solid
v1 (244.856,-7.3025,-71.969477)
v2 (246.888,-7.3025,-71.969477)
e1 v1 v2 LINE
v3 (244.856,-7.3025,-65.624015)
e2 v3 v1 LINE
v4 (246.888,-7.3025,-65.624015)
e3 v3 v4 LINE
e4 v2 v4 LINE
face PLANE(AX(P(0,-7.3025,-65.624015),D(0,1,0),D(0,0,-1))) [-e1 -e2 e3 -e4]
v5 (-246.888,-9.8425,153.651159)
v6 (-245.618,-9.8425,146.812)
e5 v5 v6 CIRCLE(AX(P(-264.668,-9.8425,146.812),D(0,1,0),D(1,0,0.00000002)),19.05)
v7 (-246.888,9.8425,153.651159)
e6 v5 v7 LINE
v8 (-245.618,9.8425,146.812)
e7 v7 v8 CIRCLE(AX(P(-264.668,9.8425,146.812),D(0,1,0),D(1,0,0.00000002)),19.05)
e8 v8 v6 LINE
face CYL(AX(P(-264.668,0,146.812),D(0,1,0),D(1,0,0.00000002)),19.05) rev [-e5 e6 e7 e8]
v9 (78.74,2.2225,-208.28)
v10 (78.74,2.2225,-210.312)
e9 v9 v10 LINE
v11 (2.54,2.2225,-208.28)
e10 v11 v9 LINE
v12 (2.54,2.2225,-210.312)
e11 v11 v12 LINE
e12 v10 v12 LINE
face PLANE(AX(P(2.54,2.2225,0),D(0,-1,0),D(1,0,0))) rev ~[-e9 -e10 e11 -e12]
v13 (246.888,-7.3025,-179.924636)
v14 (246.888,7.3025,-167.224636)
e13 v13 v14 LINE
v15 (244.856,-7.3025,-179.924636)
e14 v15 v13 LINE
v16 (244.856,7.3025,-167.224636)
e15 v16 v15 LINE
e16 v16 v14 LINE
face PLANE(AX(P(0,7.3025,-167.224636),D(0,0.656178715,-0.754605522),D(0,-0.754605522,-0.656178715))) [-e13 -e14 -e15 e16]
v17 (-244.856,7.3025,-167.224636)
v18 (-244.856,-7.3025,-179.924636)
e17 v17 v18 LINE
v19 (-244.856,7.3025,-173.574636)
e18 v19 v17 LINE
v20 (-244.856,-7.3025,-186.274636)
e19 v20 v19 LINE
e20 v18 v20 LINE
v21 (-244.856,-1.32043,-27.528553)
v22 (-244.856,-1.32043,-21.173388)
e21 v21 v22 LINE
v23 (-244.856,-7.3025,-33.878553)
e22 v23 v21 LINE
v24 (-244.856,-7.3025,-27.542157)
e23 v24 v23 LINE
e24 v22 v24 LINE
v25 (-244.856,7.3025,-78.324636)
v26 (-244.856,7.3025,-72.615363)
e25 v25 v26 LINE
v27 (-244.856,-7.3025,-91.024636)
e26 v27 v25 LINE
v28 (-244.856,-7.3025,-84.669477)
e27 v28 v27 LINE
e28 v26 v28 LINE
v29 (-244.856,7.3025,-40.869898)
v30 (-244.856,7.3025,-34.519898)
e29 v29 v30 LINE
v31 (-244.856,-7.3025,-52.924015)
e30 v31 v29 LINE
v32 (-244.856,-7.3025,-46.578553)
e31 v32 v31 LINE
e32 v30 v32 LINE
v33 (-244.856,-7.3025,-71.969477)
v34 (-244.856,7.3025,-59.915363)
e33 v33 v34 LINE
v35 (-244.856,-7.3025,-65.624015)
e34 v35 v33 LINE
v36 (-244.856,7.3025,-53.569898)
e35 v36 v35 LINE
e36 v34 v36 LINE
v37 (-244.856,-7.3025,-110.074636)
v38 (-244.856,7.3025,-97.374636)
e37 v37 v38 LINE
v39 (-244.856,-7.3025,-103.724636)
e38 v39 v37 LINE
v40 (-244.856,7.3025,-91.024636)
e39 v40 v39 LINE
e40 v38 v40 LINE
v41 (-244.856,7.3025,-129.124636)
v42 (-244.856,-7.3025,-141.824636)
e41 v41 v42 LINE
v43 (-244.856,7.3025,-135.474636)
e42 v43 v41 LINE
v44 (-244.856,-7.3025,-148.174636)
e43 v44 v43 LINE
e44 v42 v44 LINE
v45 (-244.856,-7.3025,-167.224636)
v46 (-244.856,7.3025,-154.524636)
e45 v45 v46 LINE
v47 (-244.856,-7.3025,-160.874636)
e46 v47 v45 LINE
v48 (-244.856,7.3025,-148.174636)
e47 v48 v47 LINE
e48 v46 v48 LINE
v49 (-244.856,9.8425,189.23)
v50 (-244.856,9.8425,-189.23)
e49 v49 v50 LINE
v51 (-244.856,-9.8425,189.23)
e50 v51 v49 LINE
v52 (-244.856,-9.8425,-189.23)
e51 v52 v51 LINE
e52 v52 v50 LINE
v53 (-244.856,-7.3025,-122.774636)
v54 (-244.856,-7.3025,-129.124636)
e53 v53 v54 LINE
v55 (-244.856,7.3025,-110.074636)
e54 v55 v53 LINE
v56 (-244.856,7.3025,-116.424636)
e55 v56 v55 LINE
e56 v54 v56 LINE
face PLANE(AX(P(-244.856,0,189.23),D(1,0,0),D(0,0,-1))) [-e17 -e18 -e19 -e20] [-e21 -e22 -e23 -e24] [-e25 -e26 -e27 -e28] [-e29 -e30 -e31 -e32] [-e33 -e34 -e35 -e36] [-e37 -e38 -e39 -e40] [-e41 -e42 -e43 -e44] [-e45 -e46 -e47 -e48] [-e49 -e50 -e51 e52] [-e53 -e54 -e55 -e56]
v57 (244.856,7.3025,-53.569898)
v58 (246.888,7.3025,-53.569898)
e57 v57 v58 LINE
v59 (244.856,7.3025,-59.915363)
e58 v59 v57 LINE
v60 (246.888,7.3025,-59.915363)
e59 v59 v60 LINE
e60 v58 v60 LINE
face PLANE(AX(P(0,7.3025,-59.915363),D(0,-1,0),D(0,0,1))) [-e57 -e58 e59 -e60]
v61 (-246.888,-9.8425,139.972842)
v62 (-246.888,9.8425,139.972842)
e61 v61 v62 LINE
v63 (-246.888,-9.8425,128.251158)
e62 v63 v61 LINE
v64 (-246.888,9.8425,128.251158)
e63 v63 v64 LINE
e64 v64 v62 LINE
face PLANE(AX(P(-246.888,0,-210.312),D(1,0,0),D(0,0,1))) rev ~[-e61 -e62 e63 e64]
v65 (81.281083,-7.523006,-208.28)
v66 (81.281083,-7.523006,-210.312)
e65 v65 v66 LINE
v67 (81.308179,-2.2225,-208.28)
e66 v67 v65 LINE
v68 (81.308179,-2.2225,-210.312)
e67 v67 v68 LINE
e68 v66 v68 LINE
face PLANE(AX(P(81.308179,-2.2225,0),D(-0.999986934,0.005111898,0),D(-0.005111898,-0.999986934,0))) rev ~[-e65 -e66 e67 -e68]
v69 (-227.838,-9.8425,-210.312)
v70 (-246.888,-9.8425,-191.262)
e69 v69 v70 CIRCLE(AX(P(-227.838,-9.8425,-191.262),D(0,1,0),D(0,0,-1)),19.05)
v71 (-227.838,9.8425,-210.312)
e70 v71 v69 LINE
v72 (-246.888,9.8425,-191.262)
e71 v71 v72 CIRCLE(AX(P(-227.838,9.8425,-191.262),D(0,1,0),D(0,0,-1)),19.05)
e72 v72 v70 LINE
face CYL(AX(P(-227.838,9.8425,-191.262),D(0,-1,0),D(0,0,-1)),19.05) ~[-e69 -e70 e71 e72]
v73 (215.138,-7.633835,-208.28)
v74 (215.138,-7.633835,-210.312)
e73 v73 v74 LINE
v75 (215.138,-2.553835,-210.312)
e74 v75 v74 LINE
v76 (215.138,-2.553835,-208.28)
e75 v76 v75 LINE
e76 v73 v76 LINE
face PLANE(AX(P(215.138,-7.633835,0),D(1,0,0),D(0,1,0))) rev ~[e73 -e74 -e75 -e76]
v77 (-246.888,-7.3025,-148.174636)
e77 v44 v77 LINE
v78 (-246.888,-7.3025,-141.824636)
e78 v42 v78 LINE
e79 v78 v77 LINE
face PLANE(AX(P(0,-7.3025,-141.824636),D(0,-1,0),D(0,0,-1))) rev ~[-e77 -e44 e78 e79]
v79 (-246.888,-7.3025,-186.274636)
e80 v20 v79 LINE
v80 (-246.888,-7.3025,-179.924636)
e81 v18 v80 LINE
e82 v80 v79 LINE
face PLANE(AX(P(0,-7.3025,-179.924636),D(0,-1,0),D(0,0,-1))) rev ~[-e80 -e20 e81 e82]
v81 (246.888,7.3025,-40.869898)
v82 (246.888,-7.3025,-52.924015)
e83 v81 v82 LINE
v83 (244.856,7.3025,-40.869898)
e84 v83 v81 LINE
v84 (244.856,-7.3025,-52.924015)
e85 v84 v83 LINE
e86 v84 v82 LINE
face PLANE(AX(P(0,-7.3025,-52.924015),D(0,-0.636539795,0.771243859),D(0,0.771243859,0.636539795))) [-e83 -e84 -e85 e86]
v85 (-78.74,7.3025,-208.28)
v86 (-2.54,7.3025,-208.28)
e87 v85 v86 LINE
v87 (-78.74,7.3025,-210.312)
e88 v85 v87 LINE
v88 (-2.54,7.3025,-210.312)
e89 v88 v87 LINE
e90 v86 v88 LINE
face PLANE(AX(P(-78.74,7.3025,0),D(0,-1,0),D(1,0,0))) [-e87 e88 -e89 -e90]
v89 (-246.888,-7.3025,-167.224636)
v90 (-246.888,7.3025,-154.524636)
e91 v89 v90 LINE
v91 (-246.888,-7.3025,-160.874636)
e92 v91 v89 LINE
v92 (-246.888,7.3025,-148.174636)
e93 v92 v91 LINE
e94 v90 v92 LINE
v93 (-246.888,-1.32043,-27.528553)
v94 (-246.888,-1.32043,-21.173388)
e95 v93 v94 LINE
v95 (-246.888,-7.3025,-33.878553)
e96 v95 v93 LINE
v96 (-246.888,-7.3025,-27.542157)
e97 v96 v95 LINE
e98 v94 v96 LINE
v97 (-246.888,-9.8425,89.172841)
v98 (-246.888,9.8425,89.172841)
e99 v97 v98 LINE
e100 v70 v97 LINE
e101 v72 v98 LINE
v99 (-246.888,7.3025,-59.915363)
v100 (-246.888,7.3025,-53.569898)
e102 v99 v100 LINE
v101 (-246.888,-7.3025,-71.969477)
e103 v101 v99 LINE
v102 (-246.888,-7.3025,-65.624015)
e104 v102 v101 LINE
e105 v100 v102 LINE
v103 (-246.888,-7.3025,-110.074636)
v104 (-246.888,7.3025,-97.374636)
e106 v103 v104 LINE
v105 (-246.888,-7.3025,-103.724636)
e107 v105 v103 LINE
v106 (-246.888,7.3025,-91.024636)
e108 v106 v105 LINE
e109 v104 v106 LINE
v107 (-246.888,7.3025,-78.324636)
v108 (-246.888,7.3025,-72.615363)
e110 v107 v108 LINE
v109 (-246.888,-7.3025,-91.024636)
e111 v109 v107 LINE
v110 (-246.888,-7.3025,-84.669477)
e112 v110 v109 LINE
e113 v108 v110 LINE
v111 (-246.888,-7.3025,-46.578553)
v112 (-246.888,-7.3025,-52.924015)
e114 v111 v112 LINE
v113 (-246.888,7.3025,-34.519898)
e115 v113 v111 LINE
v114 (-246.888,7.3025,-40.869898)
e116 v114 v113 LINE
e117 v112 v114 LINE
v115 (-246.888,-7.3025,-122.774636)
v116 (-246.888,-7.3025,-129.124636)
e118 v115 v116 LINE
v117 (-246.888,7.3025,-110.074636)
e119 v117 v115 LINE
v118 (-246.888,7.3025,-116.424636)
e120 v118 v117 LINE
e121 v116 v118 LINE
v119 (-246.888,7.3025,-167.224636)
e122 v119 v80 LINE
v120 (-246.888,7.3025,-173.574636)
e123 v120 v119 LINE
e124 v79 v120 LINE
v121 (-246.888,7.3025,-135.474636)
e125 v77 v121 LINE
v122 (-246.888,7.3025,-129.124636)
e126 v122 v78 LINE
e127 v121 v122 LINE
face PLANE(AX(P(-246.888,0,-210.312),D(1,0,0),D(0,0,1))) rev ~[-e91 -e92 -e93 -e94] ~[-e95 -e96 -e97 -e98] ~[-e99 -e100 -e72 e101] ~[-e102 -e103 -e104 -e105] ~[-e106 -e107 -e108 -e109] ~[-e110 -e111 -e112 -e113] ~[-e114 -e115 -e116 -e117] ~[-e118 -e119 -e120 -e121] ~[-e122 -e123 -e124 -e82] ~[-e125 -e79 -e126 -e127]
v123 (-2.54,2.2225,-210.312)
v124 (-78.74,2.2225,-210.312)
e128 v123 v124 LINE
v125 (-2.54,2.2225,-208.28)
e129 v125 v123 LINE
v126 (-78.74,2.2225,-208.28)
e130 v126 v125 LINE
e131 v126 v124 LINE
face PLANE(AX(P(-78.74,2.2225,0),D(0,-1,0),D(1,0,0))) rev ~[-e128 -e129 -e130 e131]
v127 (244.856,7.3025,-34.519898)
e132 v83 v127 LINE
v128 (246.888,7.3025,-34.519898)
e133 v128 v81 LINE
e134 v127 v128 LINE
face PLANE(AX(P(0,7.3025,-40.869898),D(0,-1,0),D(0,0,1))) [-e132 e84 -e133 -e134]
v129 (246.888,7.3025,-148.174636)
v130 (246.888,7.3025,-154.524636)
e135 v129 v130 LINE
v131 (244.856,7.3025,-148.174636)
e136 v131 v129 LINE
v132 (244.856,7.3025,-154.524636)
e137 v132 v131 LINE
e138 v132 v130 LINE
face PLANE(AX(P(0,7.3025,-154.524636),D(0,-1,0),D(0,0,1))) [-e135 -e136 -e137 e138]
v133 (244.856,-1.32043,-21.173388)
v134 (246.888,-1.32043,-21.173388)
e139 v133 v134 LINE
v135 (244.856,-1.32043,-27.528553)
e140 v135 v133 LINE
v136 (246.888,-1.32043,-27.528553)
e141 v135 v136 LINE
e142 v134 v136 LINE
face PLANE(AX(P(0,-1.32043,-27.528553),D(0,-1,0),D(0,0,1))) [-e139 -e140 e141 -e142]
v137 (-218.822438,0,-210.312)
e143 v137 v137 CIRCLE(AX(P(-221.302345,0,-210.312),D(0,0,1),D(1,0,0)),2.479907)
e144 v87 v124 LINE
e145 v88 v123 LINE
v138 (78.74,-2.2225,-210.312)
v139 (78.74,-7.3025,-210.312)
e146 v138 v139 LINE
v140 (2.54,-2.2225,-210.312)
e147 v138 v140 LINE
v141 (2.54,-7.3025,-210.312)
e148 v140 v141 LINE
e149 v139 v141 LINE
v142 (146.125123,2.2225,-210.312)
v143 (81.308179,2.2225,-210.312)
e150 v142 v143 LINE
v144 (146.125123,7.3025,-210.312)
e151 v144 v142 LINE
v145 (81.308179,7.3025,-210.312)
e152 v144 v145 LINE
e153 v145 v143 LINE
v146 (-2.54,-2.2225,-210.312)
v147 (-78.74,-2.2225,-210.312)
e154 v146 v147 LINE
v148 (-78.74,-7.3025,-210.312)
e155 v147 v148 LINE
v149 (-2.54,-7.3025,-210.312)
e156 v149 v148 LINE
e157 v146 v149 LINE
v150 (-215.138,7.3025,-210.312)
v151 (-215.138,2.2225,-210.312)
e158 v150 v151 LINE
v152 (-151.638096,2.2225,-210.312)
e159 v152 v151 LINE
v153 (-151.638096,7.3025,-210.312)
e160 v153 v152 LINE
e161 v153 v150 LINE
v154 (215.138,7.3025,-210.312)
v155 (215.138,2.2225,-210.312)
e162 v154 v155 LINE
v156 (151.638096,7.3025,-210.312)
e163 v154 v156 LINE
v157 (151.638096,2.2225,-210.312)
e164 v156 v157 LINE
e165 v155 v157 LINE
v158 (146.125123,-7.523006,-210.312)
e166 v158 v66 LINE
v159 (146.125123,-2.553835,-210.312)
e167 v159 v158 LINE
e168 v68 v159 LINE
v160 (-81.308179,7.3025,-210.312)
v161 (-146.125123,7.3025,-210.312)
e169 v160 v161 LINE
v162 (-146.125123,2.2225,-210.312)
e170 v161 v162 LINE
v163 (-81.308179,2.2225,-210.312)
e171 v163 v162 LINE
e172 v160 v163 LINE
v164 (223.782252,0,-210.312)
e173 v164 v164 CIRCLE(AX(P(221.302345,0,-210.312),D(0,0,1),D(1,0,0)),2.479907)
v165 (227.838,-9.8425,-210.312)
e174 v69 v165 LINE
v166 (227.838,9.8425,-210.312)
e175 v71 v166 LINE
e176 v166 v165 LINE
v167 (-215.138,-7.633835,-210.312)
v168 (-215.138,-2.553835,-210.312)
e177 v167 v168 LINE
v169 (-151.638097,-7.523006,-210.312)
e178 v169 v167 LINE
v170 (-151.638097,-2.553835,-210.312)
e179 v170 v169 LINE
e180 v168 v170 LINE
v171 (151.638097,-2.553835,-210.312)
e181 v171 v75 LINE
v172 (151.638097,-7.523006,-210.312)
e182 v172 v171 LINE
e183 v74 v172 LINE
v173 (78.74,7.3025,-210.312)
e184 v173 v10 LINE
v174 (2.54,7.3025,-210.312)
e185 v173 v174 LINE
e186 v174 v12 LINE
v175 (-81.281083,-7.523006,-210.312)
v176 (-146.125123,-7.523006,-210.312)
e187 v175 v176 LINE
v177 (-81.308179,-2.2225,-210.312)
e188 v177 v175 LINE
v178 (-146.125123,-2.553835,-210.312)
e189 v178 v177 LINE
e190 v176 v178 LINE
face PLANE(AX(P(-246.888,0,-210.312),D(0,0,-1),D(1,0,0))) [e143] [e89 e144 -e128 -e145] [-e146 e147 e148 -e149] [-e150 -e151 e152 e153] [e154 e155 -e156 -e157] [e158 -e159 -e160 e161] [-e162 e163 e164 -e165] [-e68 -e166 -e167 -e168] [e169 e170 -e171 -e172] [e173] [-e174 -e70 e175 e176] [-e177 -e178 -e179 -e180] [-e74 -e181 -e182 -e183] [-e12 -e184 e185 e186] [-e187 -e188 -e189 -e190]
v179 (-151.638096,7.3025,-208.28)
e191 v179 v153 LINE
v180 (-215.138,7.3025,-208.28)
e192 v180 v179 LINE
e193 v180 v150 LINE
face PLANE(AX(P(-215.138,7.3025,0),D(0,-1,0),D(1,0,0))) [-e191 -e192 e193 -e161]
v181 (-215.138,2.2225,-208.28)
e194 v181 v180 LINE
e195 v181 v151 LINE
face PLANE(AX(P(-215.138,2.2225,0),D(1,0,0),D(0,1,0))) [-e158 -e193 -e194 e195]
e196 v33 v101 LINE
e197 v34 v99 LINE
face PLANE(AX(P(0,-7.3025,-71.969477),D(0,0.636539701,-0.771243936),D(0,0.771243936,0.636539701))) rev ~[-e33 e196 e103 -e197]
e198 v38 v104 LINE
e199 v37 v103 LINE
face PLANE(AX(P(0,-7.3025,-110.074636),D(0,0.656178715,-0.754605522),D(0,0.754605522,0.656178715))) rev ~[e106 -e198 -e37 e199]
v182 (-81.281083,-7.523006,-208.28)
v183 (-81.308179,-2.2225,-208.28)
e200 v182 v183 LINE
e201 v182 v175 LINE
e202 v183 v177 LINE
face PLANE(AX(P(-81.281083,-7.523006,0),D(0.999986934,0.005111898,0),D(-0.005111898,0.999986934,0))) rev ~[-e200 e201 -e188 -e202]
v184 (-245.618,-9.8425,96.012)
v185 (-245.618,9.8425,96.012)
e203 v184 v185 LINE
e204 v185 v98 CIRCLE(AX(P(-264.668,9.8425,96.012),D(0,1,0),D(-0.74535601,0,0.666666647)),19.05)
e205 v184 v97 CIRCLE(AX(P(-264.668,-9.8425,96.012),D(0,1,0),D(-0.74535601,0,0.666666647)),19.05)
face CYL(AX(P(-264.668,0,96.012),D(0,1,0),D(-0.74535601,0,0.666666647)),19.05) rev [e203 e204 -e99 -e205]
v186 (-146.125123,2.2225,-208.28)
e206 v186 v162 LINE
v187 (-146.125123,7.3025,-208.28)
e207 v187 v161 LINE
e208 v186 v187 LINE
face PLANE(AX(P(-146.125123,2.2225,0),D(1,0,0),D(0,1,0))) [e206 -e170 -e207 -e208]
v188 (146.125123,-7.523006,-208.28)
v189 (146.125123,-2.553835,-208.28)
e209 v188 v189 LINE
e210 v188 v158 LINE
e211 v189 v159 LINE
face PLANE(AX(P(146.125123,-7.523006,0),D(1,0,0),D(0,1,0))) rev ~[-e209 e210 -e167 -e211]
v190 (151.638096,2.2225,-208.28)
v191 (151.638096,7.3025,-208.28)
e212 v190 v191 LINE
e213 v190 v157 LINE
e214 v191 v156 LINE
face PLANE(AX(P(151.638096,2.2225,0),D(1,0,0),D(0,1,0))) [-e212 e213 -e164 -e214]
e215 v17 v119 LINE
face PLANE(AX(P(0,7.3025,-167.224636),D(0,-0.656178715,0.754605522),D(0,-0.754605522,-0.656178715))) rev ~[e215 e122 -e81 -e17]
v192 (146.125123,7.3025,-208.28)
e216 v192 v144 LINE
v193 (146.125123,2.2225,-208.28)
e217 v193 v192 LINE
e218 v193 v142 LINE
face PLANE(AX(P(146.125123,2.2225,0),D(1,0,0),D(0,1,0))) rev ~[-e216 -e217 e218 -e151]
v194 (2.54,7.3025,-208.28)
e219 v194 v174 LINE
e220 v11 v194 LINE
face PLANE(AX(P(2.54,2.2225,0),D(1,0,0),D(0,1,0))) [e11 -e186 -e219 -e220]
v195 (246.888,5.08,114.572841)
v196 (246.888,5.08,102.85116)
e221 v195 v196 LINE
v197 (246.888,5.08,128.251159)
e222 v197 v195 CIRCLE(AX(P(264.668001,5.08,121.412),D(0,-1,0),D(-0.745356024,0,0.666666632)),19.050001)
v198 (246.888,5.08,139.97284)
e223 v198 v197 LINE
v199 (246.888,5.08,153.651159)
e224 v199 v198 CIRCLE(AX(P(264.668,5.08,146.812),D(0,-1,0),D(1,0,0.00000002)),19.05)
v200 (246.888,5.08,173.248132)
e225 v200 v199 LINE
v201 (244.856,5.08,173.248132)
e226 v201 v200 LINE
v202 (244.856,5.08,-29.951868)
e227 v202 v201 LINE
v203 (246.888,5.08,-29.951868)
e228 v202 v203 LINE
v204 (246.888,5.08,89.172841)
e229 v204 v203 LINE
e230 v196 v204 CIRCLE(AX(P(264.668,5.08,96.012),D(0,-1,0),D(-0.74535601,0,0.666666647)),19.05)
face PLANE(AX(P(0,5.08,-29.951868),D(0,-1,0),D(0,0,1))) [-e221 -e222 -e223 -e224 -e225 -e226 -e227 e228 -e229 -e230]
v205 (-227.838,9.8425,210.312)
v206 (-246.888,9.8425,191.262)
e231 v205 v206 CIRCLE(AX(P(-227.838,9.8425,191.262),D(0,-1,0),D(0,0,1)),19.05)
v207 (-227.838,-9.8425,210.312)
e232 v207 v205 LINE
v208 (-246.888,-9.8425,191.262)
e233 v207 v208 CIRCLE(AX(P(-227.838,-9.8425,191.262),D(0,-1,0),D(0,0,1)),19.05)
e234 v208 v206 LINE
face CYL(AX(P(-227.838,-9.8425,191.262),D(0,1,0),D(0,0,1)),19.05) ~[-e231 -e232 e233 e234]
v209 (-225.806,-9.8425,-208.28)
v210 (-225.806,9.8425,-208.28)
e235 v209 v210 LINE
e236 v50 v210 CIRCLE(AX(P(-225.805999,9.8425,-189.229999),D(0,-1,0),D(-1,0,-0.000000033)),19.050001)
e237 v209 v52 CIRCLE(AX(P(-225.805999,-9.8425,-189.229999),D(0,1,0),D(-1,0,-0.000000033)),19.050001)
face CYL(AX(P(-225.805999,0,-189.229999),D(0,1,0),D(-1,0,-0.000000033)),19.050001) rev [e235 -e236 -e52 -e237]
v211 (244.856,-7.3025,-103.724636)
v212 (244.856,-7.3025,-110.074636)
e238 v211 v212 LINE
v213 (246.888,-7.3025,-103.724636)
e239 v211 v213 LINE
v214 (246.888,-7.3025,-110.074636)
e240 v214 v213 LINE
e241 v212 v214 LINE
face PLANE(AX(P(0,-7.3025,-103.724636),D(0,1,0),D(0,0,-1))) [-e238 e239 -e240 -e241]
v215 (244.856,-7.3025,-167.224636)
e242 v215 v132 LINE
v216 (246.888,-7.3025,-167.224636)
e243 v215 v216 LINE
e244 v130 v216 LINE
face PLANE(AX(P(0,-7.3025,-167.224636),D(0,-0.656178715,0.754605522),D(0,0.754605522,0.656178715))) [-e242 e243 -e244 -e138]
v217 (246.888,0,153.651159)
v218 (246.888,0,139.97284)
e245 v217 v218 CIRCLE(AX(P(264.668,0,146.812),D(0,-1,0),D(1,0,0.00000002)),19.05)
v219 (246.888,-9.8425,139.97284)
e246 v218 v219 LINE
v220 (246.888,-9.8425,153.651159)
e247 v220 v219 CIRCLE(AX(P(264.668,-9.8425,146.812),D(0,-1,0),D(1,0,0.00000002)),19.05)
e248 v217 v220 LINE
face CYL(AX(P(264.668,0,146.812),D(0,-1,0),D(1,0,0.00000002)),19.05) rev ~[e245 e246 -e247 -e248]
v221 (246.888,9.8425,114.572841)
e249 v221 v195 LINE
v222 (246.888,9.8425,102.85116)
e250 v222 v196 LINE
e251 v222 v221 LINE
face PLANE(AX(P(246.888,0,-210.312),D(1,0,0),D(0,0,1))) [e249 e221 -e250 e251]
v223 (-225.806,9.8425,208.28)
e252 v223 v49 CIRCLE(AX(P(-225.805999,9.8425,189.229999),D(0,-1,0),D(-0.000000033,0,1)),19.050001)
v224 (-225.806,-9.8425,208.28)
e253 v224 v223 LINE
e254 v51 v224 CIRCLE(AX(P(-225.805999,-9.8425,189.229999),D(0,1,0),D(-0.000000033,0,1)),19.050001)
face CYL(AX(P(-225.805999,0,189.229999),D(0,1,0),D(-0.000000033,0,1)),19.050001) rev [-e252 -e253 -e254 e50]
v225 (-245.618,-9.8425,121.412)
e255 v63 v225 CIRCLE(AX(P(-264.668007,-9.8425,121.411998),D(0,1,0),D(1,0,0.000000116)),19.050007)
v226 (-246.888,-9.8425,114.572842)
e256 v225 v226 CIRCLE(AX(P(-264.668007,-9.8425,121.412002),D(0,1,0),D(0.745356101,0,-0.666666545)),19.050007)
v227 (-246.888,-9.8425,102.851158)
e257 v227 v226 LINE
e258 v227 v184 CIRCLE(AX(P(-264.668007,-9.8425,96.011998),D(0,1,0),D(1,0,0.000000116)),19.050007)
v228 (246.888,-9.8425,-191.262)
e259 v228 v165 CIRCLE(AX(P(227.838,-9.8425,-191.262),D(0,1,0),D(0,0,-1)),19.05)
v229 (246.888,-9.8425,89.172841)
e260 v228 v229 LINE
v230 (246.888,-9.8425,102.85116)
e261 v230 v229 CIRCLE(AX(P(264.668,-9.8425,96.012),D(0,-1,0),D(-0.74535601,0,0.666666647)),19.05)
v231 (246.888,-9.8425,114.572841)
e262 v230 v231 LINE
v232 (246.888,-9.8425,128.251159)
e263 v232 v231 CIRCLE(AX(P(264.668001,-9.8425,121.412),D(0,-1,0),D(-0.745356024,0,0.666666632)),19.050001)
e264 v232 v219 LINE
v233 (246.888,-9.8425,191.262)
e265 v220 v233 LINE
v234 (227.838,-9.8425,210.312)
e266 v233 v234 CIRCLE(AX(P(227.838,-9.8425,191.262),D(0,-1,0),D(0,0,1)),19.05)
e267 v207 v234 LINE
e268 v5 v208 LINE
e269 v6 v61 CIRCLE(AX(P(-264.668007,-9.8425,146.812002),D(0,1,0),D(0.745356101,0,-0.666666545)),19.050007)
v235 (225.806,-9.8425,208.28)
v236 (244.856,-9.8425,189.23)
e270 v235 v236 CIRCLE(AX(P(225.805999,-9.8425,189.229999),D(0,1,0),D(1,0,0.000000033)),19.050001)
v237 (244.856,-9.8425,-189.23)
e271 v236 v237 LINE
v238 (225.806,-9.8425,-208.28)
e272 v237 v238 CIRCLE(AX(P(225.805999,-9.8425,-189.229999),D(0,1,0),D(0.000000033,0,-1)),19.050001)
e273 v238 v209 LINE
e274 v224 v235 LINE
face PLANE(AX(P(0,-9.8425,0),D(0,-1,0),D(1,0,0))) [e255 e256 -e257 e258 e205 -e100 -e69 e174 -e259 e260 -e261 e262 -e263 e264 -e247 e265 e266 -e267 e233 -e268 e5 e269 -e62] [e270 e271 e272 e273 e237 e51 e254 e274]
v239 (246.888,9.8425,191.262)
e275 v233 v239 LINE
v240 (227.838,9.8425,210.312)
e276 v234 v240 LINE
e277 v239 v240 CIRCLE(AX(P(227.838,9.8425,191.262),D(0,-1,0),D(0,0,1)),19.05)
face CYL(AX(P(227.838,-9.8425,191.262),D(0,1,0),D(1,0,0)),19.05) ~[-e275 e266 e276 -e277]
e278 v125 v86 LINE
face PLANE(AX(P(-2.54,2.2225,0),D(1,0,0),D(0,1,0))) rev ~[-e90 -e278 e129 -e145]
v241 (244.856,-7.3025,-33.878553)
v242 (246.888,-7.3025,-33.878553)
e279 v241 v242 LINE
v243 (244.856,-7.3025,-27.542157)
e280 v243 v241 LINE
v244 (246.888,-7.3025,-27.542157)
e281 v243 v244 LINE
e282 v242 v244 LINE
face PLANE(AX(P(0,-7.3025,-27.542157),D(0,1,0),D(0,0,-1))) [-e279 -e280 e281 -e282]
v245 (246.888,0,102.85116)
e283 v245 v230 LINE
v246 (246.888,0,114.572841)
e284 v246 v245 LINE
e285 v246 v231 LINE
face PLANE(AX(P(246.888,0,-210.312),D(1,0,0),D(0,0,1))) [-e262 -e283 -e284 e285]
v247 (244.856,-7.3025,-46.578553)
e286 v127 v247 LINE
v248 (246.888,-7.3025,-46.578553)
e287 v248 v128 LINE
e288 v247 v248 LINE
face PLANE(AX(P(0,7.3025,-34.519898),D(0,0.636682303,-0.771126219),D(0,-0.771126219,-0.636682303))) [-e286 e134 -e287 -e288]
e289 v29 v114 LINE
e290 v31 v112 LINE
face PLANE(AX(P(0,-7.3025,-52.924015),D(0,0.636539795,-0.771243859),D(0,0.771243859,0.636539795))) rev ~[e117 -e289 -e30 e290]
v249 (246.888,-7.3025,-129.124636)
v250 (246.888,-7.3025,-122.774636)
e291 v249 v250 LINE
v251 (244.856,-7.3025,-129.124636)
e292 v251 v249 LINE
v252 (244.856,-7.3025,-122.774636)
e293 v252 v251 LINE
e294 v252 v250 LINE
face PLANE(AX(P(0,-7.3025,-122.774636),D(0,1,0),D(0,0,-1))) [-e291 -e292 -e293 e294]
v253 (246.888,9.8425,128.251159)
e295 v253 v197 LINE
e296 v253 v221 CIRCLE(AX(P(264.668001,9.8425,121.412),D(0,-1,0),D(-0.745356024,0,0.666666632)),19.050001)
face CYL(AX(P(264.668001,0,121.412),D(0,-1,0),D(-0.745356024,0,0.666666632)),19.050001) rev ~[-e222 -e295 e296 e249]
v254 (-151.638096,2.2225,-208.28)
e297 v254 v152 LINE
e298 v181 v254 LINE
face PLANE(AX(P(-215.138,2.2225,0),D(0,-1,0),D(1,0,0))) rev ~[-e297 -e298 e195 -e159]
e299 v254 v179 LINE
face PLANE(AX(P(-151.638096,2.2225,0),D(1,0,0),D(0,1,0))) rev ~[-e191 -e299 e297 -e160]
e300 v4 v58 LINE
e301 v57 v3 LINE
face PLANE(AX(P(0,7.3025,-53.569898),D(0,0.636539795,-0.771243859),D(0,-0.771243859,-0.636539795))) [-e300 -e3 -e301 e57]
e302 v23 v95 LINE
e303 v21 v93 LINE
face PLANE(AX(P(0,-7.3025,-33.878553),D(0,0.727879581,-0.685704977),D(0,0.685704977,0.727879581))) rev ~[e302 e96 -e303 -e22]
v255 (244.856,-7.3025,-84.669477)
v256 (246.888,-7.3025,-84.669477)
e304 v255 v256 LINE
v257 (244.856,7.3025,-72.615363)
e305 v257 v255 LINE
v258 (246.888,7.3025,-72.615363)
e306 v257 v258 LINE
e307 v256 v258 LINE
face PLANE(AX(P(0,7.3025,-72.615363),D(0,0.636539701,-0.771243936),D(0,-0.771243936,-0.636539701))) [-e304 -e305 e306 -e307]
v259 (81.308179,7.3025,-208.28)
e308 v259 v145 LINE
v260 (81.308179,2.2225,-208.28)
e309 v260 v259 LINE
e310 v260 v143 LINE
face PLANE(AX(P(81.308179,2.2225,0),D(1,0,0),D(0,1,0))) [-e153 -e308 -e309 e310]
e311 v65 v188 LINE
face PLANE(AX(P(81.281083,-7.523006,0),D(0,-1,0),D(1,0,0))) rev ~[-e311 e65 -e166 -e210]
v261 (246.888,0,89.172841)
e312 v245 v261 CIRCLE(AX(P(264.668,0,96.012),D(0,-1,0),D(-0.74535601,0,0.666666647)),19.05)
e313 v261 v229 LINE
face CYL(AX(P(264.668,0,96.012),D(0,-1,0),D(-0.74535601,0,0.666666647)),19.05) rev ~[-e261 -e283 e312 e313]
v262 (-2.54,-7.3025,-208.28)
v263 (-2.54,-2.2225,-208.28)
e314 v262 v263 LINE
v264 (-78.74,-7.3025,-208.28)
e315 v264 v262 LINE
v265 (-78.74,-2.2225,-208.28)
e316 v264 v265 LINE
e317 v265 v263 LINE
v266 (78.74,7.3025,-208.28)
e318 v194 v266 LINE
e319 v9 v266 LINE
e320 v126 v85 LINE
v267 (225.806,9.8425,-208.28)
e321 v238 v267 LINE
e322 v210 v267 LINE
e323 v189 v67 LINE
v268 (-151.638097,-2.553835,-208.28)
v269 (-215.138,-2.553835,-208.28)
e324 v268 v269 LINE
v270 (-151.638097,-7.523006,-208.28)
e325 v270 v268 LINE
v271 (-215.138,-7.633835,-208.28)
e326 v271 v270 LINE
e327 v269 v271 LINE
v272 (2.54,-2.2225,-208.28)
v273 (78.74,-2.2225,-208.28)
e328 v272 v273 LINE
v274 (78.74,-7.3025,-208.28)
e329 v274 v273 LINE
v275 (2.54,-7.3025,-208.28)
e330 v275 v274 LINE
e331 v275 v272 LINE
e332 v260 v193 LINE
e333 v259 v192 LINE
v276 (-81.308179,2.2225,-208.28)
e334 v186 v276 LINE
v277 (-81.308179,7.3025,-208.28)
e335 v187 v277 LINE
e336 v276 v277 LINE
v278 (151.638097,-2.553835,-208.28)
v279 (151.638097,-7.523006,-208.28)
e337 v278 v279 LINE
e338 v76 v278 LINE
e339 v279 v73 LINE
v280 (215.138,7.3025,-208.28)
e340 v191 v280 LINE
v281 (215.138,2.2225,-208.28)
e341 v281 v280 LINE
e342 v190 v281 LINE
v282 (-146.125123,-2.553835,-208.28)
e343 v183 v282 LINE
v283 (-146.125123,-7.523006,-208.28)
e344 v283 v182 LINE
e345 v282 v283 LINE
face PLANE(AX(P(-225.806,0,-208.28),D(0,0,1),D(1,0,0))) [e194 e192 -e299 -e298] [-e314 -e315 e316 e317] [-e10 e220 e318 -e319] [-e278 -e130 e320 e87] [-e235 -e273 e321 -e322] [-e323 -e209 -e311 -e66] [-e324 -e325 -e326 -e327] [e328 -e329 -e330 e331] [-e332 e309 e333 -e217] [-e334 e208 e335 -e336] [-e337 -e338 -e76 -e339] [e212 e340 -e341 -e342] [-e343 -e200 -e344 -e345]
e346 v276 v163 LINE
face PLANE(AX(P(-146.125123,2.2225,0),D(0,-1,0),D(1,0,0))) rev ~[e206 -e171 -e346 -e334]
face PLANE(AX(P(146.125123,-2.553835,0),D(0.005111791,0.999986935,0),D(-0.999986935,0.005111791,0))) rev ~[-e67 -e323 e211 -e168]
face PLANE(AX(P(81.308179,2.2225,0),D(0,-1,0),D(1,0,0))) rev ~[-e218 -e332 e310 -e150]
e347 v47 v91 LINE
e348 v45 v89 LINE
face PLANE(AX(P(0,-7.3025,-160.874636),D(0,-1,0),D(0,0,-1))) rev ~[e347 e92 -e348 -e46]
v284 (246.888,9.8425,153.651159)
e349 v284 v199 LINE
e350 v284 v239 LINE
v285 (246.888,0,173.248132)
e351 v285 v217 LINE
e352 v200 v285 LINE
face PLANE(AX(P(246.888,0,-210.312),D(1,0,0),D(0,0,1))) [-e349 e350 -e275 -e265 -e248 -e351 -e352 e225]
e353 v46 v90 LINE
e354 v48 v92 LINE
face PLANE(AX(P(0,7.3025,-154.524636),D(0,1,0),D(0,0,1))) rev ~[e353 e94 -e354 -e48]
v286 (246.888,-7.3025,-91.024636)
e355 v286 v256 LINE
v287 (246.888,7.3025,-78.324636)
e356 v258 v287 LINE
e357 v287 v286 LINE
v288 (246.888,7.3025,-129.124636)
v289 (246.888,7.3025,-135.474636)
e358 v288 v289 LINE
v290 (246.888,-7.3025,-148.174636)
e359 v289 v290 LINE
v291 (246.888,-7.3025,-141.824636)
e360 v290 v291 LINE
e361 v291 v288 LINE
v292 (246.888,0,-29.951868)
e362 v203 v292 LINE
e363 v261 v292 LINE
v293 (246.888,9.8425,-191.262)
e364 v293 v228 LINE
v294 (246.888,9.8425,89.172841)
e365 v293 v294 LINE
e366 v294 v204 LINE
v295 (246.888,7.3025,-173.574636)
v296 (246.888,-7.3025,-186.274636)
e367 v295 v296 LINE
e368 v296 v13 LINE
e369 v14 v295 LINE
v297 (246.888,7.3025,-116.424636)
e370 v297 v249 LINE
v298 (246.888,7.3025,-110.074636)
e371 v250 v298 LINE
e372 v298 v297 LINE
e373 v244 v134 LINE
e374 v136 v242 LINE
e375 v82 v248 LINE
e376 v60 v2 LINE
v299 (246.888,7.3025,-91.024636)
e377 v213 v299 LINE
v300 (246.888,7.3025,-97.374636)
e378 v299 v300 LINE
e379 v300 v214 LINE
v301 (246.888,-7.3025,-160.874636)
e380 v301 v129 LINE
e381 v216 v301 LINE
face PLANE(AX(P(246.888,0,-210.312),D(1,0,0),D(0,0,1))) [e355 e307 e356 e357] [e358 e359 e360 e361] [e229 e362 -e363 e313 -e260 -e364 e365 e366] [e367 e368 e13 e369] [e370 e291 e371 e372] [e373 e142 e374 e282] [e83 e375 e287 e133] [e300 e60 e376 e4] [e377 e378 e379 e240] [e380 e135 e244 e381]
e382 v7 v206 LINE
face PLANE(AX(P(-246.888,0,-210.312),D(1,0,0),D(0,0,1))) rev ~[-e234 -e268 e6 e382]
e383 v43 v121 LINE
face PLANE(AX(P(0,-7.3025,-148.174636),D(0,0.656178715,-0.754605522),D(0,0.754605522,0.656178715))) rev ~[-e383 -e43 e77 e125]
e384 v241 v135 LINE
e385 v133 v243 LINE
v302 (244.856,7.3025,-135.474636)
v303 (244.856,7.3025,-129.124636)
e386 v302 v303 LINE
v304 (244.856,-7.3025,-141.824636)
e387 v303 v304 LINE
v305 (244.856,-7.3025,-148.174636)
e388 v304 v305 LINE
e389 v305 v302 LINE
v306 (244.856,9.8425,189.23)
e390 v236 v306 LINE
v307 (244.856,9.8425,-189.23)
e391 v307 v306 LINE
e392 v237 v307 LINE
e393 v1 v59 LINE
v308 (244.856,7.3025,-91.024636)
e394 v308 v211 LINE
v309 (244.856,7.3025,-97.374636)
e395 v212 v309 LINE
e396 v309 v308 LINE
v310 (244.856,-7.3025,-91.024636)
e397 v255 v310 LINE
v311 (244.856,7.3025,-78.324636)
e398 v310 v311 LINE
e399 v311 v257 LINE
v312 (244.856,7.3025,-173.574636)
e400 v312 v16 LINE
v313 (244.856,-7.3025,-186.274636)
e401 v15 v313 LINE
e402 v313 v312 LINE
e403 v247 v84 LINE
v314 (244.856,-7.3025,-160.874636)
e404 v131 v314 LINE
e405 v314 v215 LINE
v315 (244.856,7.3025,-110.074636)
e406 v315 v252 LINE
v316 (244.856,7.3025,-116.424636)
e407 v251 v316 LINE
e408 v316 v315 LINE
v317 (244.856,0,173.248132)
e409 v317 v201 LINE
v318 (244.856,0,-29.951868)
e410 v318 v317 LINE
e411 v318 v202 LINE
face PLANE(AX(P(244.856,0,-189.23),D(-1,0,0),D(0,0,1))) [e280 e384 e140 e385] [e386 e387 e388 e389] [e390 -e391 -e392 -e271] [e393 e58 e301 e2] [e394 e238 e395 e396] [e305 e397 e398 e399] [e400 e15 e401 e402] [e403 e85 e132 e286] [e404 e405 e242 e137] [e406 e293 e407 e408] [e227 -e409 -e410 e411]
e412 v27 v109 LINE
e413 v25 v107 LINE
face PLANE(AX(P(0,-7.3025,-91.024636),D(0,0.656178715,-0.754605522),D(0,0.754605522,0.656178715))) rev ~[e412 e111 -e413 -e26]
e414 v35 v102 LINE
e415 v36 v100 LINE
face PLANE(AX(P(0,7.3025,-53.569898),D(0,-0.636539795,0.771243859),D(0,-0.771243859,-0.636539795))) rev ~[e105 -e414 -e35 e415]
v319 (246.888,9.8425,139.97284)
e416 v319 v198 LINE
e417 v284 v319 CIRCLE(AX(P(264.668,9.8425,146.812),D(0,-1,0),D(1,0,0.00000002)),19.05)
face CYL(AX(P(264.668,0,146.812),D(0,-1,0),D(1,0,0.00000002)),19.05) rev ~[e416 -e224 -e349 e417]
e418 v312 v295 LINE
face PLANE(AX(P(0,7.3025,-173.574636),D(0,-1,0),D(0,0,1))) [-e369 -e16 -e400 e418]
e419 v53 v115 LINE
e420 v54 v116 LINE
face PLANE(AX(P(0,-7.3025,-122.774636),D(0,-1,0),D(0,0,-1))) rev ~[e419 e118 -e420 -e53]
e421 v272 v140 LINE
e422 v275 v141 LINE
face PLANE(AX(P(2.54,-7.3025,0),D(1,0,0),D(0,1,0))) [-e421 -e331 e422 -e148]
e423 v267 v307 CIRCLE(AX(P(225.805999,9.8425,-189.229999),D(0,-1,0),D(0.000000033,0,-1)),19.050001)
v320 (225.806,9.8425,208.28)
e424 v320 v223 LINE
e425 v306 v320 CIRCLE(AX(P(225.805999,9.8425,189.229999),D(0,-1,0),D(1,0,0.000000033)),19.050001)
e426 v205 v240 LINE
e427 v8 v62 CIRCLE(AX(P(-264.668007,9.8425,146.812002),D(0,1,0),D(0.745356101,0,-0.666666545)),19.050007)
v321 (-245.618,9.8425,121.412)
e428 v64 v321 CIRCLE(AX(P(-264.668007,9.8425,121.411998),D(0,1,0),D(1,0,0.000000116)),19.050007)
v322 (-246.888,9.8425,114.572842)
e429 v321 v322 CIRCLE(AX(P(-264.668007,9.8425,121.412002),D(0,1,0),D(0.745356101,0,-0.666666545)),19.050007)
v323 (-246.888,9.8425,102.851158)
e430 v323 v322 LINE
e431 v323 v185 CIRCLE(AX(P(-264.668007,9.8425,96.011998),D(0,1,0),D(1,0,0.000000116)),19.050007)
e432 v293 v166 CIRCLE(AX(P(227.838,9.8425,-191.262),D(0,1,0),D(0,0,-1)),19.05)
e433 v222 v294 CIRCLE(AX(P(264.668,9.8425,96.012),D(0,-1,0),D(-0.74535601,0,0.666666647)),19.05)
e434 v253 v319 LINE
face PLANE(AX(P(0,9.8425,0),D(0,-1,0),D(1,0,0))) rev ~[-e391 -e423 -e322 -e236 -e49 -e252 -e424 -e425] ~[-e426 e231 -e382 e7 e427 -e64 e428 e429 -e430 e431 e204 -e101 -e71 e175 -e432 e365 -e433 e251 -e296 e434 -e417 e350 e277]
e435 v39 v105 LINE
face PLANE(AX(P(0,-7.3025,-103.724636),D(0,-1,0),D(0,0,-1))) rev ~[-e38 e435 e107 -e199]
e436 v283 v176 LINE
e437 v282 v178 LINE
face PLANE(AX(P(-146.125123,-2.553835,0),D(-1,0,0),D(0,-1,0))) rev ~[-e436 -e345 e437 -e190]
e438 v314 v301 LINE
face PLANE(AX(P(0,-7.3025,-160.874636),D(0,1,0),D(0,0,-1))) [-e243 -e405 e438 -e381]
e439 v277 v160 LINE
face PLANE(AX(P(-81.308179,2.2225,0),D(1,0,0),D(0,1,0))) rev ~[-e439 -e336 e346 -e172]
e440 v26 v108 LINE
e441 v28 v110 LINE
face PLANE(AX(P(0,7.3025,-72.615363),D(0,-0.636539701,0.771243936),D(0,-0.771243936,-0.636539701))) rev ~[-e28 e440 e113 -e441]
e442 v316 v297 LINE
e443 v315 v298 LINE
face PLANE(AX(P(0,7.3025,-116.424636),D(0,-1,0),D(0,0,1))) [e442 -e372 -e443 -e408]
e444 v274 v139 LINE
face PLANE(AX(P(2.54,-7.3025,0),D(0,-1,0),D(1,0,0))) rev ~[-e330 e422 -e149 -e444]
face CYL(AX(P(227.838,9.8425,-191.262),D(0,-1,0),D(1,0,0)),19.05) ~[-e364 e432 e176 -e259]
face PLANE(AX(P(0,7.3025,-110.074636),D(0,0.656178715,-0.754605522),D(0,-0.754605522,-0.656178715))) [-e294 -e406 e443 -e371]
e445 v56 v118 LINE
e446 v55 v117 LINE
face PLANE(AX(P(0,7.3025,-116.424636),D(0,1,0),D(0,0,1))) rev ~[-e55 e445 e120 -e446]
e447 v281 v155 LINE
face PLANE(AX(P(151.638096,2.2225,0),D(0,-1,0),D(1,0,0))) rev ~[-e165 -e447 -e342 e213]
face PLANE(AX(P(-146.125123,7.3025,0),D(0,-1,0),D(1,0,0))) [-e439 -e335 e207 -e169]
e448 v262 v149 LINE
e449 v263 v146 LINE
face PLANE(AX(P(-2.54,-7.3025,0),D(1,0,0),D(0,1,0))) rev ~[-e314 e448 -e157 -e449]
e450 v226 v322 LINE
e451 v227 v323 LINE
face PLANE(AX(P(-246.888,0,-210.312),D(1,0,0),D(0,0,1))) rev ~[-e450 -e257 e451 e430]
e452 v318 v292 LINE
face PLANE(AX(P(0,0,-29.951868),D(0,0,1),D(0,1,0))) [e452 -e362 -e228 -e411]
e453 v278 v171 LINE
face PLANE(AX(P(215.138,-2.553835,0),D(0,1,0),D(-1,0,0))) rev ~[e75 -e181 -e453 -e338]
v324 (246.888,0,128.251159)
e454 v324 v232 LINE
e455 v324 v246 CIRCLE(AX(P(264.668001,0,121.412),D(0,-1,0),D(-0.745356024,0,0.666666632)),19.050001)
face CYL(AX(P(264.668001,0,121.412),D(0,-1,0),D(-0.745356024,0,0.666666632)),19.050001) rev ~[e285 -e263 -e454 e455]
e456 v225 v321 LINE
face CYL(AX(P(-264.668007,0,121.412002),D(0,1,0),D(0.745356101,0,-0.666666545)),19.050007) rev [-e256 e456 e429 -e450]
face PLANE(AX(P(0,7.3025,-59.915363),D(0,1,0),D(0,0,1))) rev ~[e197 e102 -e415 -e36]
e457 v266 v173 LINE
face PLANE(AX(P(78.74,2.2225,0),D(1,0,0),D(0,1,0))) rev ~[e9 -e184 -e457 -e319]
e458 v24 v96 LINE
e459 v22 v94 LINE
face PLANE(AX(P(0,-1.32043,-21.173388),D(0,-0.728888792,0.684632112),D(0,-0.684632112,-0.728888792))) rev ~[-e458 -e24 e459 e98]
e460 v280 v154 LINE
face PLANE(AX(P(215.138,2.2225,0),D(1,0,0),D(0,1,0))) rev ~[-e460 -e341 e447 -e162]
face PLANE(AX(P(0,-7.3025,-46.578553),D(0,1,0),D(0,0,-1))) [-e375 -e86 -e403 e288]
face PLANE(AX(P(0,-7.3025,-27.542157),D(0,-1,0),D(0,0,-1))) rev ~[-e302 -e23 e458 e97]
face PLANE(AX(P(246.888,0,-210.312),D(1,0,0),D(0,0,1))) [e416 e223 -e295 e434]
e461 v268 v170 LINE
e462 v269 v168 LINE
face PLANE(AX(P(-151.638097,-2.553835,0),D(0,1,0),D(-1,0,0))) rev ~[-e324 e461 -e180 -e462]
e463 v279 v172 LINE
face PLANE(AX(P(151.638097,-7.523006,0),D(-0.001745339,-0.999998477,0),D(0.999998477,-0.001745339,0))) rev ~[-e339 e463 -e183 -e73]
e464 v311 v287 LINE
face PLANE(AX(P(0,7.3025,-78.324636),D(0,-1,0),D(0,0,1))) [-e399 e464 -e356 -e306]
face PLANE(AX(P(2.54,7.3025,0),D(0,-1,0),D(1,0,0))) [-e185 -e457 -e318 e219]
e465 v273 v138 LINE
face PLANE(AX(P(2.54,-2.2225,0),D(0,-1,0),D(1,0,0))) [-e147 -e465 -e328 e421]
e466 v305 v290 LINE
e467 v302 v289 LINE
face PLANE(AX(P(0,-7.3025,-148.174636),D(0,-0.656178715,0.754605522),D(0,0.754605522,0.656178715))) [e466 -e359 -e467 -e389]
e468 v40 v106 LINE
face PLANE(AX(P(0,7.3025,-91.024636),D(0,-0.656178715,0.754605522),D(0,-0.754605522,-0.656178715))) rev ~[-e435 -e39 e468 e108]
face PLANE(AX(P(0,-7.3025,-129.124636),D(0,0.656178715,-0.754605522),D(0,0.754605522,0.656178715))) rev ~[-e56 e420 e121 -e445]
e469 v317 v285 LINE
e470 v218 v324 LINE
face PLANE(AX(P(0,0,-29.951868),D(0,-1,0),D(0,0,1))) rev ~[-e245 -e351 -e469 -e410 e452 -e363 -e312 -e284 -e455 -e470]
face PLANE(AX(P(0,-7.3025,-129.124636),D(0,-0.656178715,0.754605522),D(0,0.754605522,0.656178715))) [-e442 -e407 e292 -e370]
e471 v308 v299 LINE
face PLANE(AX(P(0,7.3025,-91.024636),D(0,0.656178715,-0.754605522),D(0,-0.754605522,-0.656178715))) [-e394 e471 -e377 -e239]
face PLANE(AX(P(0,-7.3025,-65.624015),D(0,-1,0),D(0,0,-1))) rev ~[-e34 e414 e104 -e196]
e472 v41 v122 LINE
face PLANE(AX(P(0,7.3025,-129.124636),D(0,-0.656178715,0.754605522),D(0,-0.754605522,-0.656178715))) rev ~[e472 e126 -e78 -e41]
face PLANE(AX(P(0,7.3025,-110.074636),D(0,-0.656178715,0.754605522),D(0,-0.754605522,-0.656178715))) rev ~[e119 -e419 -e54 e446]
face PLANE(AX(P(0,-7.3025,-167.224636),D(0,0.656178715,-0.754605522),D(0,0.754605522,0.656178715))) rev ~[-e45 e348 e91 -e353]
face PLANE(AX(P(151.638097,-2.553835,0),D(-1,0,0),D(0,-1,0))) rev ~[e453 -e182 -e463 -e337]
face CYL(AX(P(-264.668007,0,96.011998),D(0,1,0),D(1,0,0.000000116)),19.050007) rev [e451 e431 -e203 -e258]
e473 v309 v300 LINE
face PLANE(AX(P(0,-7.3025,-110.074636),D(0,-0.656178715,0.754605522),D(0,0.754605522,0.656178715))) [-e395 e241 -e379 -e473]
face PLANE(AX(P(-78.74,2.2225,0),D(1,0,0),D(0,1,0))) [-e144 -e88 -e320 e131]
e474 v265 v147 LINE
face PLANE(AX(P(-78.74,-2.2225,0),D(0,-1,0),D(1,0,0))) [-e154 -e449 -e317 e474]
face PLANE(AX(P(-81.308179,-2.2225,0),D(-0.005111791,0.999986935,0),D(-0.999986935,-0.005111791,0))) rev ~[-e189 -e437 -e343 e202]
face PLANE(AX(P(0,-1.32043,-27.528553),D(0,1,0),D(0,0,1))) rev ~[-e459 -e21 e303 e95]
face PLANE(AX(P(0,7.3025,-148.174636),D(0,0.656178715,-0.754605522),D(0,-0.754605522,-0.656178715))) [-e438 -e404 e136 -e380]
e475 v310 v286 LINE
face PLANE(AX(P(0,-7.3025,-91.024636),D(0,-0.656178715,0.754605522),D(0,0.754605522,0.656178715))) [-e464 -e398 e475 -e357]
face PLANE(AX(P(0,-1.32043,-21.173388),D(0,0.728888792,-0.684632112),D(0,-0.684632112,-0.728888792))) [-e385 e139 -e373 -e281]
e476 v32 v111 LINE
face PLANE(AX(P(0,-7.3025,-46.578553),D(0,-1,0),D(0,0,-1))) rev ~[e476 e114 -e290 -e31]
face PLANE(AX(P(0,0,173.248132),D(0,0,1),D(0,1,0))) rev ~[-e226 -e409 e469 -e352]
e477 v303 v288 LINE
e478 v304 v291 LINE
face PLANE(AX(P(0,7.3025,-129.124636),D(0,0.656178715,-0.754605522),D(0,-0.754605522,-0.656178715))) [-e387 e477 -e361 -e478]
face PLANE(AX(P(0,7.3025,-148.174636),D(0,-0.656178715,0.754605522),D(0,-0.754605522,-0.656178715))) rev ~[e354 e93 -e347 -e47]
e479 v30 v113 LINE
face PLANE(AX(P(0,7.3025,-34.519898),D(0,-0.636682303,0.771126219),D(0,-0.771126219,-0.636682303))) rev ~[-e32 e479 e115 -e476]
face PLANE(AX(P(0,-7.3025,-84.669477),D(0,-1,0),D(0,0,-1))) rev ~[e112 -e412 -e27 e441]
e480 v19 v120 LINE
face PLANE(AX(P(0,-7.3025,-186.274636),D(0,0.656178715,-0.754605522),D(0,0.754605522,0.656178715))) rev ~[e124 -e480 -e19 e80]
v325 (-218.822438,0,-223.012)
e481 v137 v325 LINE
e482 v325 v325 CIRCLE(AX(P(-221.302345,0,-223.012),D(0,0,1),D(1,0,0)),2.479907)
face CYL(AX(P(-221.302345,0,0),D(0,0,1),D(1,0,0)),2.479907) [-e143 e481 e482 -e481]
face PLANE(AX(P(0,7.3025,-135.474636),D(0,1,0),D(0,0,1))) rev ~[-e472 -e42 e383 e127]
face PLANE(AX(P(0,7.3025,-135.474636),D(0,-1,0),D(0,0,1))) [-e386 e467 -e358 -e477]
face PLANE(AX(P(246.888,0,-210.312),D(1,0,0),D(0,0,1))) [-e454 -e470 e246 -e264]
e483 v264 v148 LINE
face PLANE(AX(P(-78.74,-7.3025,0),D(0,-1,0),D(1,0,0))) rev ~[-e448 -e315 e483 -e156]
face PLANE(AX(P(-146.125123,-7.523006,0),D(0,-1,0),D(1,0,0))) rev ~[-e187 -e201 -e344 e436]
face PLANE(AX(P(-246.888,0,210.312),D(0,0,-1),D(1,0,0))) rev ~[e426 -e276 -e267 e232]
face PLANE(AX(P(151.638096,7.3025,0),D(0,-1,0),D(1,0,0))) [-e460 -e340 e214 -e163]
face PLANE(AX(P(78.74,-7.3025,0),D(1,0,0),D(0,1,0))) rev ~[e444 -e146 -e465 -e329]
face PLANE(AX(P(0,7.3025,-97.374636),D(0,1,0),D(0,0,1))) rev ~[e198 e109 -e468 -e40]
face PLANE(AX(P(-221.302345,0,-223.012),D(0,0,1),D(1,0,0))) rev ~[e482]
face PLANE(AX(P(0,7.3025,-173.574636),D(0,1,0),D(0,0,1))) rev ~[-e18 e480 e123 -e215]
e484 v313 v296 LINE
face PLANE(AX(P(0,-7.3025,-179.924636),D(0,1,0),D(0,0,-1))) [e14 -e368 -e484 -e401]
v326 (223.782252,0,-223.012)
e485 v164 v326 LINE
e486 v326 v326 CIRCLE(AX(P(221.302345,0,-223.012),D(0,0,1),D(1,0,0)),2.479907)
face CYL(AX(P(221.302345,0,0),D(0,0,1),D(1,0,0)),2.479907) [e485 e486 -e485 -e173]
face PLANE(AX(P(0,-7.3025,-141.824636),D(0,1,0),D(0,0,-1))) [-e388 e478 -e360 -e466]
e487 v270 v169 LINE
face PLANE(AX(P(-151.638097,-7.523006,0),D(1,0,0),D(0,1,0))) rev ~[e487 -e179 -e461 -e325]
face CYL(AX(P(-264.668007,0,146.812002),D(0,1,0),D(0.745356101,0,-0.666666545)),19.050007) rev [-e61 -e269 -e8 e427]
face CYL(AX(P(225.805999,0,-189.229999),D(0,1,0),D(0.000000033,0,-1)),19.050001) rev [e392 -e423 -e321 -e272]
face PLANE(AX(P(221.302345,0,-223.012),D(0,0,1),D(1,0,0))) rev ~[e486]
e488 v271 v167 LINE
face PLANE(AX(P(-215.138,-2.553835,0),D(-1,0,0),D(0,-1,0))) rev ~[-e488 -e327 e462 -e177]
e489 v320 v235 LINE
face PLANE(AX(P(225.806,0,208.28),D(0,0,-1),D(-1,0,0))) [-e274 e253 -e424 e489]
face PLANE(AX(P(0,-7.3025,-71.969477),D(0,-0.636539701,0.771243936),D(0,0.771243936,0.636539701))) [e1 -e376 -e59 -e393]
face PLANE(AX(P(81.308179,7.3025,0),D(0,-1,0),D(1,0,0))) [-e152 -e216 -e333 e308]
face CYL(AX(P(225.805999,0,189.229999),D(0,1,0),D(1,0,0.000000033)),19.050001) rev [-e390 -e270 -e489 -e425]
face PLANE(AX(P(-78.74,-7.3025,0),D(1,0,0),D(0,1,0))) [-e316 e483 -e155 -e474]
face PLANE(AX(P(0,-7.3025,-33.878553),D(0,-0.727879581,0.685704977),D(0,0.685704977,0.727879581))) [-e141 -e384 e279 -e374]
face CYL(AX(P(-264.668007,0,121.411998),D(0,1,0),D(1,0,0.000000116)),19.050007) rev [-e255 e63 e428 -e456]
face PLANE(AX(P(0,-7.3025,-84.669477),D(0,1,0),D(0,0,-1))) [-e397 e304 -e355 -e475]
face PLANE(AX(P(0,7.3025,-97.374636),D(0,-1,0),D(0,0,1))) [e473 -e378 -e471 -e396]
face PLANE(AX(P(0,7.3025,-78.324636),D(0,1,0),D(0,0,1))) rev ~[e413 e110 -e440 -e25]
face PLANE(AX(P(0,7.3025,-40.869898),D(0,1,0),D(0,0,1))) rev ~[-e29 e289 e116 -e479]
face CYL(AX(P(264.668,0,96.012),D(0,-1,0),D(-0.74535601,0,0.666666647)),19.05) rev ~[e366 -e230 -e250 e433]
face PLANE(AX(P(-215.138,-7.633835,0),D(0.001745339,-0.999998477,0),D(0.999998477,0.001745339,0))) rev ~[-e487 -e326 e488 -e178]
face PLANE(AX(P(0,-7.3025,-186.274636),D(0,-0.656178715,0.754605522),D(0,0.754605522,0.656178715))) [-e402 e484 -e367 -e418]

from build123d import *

# Parameters (mm, degrees)
F0_W      = 493.776
F0_H      = 420.624
F1_DEPTH  = 9.8425
F2_R      = 19.05
F3_R      = 19.05
F4_R      = 19.05
F5_R      = 19.05
F7_DEPTH  = 9.8435
F8_DEPTH  = 50.8
F9_DEPTH  = 9.8435
F11_DEPTH = 381
F12_DEPTH = 381
F13_W     = 76.2
F13_H     = 5.08
F13_W_2   = 63.499903
F13_W_3   = 64.816944
F14_DEPTH = 254
F16_DEPTH = 63.5
F17_R     = 2.479907
F18_DEPTH = 223.012
F19_DEPTH = 208.28
F20_W     = 5.08
F20_H     = 203.2
F21_DEPTH = 254


with BuildPart() as f1:
    # F0 (on Front) → F1 (new body, symmetric)
    with BuildSketch(Plane.XZ):
        Rectangle(F0_W, F0_H)
    extrude(amount=F1_DEPTH, both=True)

    # F2
    f2_edges = [f1.edges().sort_by_distance(p)[0] for p in [
        (246.888, 0, 210.312),
    ]]
    fillet(f2_edges, radius=F2_R)

    # F3
    f3_edges = [f1.edges().sort_by_distance(p)[0] for p in [
        (-246.888, 0, 210.312),
    ]]
    fillet(f3_edges, radius=F3_R)

    # F4
    f4_edges = [f1.edges().sort_by_distance(p)[0] for p in [
        (246.888, 0, -210.312),
    ]]
    fillet(f4_edges, radius=F4_R)

    # F5
    f5_edges = [f1.edges().sort_by_distance(p)[0] for p in [
        (-246.888, 0, -210.312),
    ]]
    fillet(f5_edges, radius=F5_R)

    # F6 (on Front) → F7 (cut, through all)
    with BuildSketch(Plane.XZ):
        with BuildLine():
            ThreePointArc((244.856, 189.23), (239.276384, 202.700384), (225.806, 208.28))
            Line((225.806, 208.28), (-225.806, 208.28))
            ThreePointArc((-225.806, 208.28), (-239.276384, 202.700384), (-244.856, 189.23))
            Line((-244.856, 189.23), (-244.856, -189.23))
            ThreePointArc((-244.856, -189.23), (-239.276384, -202.700384), (-225.806, -208.28))
            Line((-225.806, -208.28), (225.806, -208.28))
            ThreePointArc((225.806, -208.28), (239.276384, -202.700384), (244.856, -189.23))
            Line((244.856, -189.23), (244.856, 189.23))
        make_face()
    extrude(amount=-F7_DEPTH, mode=Mode.SUBTRACT)

    # F6 (on Front) → F8 (cut)
    with BuildSketch(Plane.XZ):
        with BuildLine():
            ThreePointArc((244.856, 189.23), (239.276384, 202.700384), (225.806, 208.28))
            Line((225.806, 208.28), (-225.806, 208.28))
            ThreePointArc((-225.806, 208.28), (-239.276384, 202.700384), (-244.856, 189.23))
            Line((-244.856, 189.23), (-244.856, -189.23))
            ThreePointArc((-244.856, -189.23), (-239.276384, -202.700384), (-225.806, -208.28))
            Line((-225.806, -208.28), (225.806, -208.28))
            ThreePointArc((225.806, -208.28), (239.276384, -202.700384), (244.856, -189.23))
            Line((244.856, -189.23), (244.856, 189.23))
        make_face()
    extrude(amount=-F8_DEPTH, mode=Mode.SUBTRACT)

    # F6 (on Front) → F9 (cut, through all)
    with BuildSketch(Plane.XZ):
        with BuildLine():
            ThreePointArc((244.856, 189.23), (239.276384, 202.700384), (225.806, 208.28))
            Line((225.806, 208.28), (-225.806, 208.28))
            ThreePointArc((-225.806, 208.28), (-239.276384, 202.700384), (-244.856, 189.23))
            Line((-244.856, 189.23), (-244.856, -189.23))
            ThreePointArc((-244.856, -189.23), (-239.276384, -202.700384), (-225.806, -208.28))
            Line((-225.806, -208.28), (225.806, -208.28))
            ThreePointArc((225.806, -208.28), (239.276384, -202.700384), (244.856, -189.23))
            Line((244.856, -189.23), (244.856, 189.23))
        make_face()
    extrude(amount=F9_DEPTH, mode=Mode.SUBTRACT)

    # F10 (on Right) → F11 (cut)
    with BuildSketch(Plane.YZ):
        Polygon((7.3025, -40.869898), (7.3025, -34.519898), (-7.3025, -46.578553), (-7.3025, -52.924015), align=None)
        Polygon((7.3025, -59.915363), (7.3025, -53.569898), (-7.3025, -65.624015), (-7.3025, -71.969477), align=None)
        Polygon((-7.3025, -27.542157), (-7.3025, -33.878553), (-1.32043, -27.528553), (-1.32043, -21.173388), align=None)
        Polygon((7.3025, -72.615363), (-7.3025, -84.669477), (-7.3025, -91.024636), (7.3025, -78.324636), align=None)
        Polygon((7.3025, -91.024636), (-7.3025, -103.724636), (-7.3025, -110.074636), (7.3025, -97.374636), align=None)
        Polygon((7.3025, -110.074636), (-7.3025, -122.774636), (-7.3025, -129.124636), (7.3025, -116.424636), align=None)
        Polygon((7.3025, -129.124636), (-7.3025, -141.824636), (-7.3025, -148.174636), (7.3025, -135.474636), align=None)
        Polygon((7.3025, -148.174636), (-7.3025, -160.874636), (-7.3025, -167.224636), (7.3025, -154.524636), align=None)
        Polygon((7.3025, -167.224636), (-7.3025, -179.924636), (-7.3025, -186.274636), (7.3025, -173.574636), align=None)
    extrude(amount=-F11_DEPTH, mode=Mode.SUBTRACT)

    # F10 (on Right) → F12 (cut)
    with BuildSketch(Plane.YZ):
        Polygon((7.3025, -40.869898), (7.3025, -34.519898), (-7.3025, -46.578553), (-7.3025, -52.924015), align=None)
        Polygon((7.3025, -59.915363), (7.3025, -53.569898), (-7.3025, -65.624015), (-7.3025, -71.969477), align=None)
        Polygon((-7.3025, -27.542157), (-7.3025, -33.878553), (-1.32043, -27.528553), (-1.32043, -21.173388), align=None)
        Polygon((7.3025, -72.615363), (-7.3025, -84.669477), (-7.3025, -91.024636), (7.3025, -78.324636), align=None)
        Polygon((7.3025, -91.024636), (-7.3025, -103.724636), (-7.3025, -110.074636), (7.3025, -97.374636), align=None)
        Polygon((7.3025, -110.074636), (-7.3025, -122.774636), (-7.3025, -129.124636), (7.3025, -116.424636), align=None)
        Polygon((7.3025, -129.124636), (-7.3025, -141.824636), (-7.3025, -148.174636), (7.3025, -135.474636), align=None)
        Polygon((7.3025, -148.174636), (-7.3025, -160.874636), (-7.3025, -167.224636), (7.3025, -154.524636), align=None)
        Polygon((7.3025, -167.224636), (-7.3025, -179.924636), (-7.3025, -186.274636), (7.3025, -173.574636), align=None)
    extrude(amount=F12_DEPTH, mode=Mode.SUBTRACT)

    # F13 (on Top) → F14 (cut)
    with BuildSketch(Plane.XY):
        with Locations((-40.64, -4.7625)):
            Rectangle(F13_W, F13_H)
        with Locations((-40.64, 4.7625)):
            Rectangle(F13_W, F13_H)
        Polygon((-215.138, -2.553835), (-215.138, -7.633835), (-151.638097, -7.523006), (-151.638097, -2.553835), align=None)
        with Locations((-183.388048, 4.7625)):
            Rectangle(F13_W_2, F13_H)
        Polygon((-146.125123, -2.553835), (-146.125123, -7.523006), (-81.281083, -7.523006), (-81.308179, -2.2225), align=None)
        with Locations((-113.716651, 4.7625)):
            Rectangle(F13_W_3, F13_H)
        with Locations((40.64, -4.7625)):
            Rectangle(F13_W, F13_H)
        with Locations((40.64, 4.7625)):
            Rectangle(F13_W, F13_H)
        Polygon((81.308179, -2.2225), (81.281083, -7.523006), (146.125123, -7.523006), (146.125123, -2.553835), align=None)
        with Locations((113.716651, 4.7625)):
            Rectangle(F13_W_3, F13_H)
        Polygon((151.638097, -2.553835), (151.638097, -7.523006), (215.138, -7.633835), (215.138, -2.553835), align=None)
        with Locations((183.388048, 4.7625)):
            Rectangle(F13_W_2, F13_H)
    extrude(amount=-F14_DEPTH, mode=Mode.SUBTRACT)

    # F15 (on Front) → F16 (cut, symmetric)
    with BuildSketch(Plane.XZ):
        with BuildLine():
            ThreePointArc((-250.468968, 134.112), (-246.872017, 140.014539), (-245.618, 146.812))
            ThreePointArc((-245.618, 146.812), (-271.465461, 164.607983), (-278.867032, 134.112))
            ThreePointArc((-278.867032, 134.112), (-264.668, 140.462), (-250.468968, 134.112))
        make_face()
        with BuildLine():
            ThreePointArc((-250.468968, 134.112), (-264.668, 127.762), (-278.867032, 134.112))
            ThreePointArc((-278.867032, 134.112), (-283.718, 121.412), (-278.867032, 108.712))
            ThreePointArc((-278.867032, 108.712), (-264.668, 115.062), (-250.468968, 108.712))
            ThreePointArc((-250.468968, 108.712), (-246.872017, 114.614539), (-245.618, 121.412))
            ThreePointArc((-245.618, 121.412), (-246.872017, 128.209461), (-250.468968, 134.112))
        make_face()
        with BuildLine():
            ThreePointArc((-250.468968, 108.712), (-264.668, 102.362), (-278.867032, 108.712))
            ThreePointArc((-278.867032, 108.712), (-271.465461, 78.216017), (-245.618, 96.012))
            ThreePointArc((-245.618, 96.012), (-246.872017, 102.809461), (-250.468968, 108.712))
        make_face()
        with BuildLine():
            ThreePointArc((250.468968, 108.712), (257.870539, 78.216017), (283.718, 96.012))
            ThreePointArc((283.718, 96.012), (282.463983, 102.809461), (278.867032, 108.712))
            ThreePointArc((278.867032, 108.712), (264.668, 102.362), (250.468968, 108.712))
        make_face()
        with BuildLine():
            ThreePointArc((250.468968, 108.712), (264.668, 115.062), (278.867032, 108.712))
            ThreePointArc((278.867032, 108.712), (282.463983, 114.614539), (283.718, 121.412))
            ThreePointArc((283.718, 121.412), (282.463983, 128.209461), (278.867032, 134.112))
            ThreePointArc((278.867032, 134.112), (264.668, 127.762), (250.468968, 134.112))
            ThreePointArc((250.468968, 134.112), (245.618, 121.412), (250.468968, 108.712))
        make_face()
        with BuildLine():
            ThreePointArc((283.718, 146.812), (257.870539, 164.607983), (250.468968, 134.112))
            ThreePointArc((250.468968, 134.112), (264.668, 140.462), (278.867032, 134.112))
            ThreePointArc((278.867032, 134.112), (282.463983, 140.014539), (283.718, 146.812))
        make_face()
    extrude(amount=F16_DEPTH, both=True, mode=Mode.SUBTRACT)

    # F17 (on Top) → F18 (join)
    with BuildSketch(Plane.XY):
        with Locations((-221.302345, 0)):
            Circle(F17_R)
        with Locations((221.302345, 0)):
            Circle(F17_R)
    extrude(amount=-F18_DEPTH)

    # F17 (on Top) → F19 (cut)
    with BuildSketch(Plane.XY):
        with Locations((-221.302345, 0)):
            Circle(F17_R)
        with Locations((221.302345, 0)):
            Circle(F17_R)
    extrude(amount=-F19_DEPTH, mode=Mode.SUBTRACT)

    # F20 (on Right) → F21 (cut)
    with BuildSketch(Plane.YZ):
        with Locations((2.54, 71.648132)):
            Rectangle(F20_W, F20_H)
    extrude(amount=F21_DEPTH, mode=Mode.SUBTRACT)


solid = f1.part
